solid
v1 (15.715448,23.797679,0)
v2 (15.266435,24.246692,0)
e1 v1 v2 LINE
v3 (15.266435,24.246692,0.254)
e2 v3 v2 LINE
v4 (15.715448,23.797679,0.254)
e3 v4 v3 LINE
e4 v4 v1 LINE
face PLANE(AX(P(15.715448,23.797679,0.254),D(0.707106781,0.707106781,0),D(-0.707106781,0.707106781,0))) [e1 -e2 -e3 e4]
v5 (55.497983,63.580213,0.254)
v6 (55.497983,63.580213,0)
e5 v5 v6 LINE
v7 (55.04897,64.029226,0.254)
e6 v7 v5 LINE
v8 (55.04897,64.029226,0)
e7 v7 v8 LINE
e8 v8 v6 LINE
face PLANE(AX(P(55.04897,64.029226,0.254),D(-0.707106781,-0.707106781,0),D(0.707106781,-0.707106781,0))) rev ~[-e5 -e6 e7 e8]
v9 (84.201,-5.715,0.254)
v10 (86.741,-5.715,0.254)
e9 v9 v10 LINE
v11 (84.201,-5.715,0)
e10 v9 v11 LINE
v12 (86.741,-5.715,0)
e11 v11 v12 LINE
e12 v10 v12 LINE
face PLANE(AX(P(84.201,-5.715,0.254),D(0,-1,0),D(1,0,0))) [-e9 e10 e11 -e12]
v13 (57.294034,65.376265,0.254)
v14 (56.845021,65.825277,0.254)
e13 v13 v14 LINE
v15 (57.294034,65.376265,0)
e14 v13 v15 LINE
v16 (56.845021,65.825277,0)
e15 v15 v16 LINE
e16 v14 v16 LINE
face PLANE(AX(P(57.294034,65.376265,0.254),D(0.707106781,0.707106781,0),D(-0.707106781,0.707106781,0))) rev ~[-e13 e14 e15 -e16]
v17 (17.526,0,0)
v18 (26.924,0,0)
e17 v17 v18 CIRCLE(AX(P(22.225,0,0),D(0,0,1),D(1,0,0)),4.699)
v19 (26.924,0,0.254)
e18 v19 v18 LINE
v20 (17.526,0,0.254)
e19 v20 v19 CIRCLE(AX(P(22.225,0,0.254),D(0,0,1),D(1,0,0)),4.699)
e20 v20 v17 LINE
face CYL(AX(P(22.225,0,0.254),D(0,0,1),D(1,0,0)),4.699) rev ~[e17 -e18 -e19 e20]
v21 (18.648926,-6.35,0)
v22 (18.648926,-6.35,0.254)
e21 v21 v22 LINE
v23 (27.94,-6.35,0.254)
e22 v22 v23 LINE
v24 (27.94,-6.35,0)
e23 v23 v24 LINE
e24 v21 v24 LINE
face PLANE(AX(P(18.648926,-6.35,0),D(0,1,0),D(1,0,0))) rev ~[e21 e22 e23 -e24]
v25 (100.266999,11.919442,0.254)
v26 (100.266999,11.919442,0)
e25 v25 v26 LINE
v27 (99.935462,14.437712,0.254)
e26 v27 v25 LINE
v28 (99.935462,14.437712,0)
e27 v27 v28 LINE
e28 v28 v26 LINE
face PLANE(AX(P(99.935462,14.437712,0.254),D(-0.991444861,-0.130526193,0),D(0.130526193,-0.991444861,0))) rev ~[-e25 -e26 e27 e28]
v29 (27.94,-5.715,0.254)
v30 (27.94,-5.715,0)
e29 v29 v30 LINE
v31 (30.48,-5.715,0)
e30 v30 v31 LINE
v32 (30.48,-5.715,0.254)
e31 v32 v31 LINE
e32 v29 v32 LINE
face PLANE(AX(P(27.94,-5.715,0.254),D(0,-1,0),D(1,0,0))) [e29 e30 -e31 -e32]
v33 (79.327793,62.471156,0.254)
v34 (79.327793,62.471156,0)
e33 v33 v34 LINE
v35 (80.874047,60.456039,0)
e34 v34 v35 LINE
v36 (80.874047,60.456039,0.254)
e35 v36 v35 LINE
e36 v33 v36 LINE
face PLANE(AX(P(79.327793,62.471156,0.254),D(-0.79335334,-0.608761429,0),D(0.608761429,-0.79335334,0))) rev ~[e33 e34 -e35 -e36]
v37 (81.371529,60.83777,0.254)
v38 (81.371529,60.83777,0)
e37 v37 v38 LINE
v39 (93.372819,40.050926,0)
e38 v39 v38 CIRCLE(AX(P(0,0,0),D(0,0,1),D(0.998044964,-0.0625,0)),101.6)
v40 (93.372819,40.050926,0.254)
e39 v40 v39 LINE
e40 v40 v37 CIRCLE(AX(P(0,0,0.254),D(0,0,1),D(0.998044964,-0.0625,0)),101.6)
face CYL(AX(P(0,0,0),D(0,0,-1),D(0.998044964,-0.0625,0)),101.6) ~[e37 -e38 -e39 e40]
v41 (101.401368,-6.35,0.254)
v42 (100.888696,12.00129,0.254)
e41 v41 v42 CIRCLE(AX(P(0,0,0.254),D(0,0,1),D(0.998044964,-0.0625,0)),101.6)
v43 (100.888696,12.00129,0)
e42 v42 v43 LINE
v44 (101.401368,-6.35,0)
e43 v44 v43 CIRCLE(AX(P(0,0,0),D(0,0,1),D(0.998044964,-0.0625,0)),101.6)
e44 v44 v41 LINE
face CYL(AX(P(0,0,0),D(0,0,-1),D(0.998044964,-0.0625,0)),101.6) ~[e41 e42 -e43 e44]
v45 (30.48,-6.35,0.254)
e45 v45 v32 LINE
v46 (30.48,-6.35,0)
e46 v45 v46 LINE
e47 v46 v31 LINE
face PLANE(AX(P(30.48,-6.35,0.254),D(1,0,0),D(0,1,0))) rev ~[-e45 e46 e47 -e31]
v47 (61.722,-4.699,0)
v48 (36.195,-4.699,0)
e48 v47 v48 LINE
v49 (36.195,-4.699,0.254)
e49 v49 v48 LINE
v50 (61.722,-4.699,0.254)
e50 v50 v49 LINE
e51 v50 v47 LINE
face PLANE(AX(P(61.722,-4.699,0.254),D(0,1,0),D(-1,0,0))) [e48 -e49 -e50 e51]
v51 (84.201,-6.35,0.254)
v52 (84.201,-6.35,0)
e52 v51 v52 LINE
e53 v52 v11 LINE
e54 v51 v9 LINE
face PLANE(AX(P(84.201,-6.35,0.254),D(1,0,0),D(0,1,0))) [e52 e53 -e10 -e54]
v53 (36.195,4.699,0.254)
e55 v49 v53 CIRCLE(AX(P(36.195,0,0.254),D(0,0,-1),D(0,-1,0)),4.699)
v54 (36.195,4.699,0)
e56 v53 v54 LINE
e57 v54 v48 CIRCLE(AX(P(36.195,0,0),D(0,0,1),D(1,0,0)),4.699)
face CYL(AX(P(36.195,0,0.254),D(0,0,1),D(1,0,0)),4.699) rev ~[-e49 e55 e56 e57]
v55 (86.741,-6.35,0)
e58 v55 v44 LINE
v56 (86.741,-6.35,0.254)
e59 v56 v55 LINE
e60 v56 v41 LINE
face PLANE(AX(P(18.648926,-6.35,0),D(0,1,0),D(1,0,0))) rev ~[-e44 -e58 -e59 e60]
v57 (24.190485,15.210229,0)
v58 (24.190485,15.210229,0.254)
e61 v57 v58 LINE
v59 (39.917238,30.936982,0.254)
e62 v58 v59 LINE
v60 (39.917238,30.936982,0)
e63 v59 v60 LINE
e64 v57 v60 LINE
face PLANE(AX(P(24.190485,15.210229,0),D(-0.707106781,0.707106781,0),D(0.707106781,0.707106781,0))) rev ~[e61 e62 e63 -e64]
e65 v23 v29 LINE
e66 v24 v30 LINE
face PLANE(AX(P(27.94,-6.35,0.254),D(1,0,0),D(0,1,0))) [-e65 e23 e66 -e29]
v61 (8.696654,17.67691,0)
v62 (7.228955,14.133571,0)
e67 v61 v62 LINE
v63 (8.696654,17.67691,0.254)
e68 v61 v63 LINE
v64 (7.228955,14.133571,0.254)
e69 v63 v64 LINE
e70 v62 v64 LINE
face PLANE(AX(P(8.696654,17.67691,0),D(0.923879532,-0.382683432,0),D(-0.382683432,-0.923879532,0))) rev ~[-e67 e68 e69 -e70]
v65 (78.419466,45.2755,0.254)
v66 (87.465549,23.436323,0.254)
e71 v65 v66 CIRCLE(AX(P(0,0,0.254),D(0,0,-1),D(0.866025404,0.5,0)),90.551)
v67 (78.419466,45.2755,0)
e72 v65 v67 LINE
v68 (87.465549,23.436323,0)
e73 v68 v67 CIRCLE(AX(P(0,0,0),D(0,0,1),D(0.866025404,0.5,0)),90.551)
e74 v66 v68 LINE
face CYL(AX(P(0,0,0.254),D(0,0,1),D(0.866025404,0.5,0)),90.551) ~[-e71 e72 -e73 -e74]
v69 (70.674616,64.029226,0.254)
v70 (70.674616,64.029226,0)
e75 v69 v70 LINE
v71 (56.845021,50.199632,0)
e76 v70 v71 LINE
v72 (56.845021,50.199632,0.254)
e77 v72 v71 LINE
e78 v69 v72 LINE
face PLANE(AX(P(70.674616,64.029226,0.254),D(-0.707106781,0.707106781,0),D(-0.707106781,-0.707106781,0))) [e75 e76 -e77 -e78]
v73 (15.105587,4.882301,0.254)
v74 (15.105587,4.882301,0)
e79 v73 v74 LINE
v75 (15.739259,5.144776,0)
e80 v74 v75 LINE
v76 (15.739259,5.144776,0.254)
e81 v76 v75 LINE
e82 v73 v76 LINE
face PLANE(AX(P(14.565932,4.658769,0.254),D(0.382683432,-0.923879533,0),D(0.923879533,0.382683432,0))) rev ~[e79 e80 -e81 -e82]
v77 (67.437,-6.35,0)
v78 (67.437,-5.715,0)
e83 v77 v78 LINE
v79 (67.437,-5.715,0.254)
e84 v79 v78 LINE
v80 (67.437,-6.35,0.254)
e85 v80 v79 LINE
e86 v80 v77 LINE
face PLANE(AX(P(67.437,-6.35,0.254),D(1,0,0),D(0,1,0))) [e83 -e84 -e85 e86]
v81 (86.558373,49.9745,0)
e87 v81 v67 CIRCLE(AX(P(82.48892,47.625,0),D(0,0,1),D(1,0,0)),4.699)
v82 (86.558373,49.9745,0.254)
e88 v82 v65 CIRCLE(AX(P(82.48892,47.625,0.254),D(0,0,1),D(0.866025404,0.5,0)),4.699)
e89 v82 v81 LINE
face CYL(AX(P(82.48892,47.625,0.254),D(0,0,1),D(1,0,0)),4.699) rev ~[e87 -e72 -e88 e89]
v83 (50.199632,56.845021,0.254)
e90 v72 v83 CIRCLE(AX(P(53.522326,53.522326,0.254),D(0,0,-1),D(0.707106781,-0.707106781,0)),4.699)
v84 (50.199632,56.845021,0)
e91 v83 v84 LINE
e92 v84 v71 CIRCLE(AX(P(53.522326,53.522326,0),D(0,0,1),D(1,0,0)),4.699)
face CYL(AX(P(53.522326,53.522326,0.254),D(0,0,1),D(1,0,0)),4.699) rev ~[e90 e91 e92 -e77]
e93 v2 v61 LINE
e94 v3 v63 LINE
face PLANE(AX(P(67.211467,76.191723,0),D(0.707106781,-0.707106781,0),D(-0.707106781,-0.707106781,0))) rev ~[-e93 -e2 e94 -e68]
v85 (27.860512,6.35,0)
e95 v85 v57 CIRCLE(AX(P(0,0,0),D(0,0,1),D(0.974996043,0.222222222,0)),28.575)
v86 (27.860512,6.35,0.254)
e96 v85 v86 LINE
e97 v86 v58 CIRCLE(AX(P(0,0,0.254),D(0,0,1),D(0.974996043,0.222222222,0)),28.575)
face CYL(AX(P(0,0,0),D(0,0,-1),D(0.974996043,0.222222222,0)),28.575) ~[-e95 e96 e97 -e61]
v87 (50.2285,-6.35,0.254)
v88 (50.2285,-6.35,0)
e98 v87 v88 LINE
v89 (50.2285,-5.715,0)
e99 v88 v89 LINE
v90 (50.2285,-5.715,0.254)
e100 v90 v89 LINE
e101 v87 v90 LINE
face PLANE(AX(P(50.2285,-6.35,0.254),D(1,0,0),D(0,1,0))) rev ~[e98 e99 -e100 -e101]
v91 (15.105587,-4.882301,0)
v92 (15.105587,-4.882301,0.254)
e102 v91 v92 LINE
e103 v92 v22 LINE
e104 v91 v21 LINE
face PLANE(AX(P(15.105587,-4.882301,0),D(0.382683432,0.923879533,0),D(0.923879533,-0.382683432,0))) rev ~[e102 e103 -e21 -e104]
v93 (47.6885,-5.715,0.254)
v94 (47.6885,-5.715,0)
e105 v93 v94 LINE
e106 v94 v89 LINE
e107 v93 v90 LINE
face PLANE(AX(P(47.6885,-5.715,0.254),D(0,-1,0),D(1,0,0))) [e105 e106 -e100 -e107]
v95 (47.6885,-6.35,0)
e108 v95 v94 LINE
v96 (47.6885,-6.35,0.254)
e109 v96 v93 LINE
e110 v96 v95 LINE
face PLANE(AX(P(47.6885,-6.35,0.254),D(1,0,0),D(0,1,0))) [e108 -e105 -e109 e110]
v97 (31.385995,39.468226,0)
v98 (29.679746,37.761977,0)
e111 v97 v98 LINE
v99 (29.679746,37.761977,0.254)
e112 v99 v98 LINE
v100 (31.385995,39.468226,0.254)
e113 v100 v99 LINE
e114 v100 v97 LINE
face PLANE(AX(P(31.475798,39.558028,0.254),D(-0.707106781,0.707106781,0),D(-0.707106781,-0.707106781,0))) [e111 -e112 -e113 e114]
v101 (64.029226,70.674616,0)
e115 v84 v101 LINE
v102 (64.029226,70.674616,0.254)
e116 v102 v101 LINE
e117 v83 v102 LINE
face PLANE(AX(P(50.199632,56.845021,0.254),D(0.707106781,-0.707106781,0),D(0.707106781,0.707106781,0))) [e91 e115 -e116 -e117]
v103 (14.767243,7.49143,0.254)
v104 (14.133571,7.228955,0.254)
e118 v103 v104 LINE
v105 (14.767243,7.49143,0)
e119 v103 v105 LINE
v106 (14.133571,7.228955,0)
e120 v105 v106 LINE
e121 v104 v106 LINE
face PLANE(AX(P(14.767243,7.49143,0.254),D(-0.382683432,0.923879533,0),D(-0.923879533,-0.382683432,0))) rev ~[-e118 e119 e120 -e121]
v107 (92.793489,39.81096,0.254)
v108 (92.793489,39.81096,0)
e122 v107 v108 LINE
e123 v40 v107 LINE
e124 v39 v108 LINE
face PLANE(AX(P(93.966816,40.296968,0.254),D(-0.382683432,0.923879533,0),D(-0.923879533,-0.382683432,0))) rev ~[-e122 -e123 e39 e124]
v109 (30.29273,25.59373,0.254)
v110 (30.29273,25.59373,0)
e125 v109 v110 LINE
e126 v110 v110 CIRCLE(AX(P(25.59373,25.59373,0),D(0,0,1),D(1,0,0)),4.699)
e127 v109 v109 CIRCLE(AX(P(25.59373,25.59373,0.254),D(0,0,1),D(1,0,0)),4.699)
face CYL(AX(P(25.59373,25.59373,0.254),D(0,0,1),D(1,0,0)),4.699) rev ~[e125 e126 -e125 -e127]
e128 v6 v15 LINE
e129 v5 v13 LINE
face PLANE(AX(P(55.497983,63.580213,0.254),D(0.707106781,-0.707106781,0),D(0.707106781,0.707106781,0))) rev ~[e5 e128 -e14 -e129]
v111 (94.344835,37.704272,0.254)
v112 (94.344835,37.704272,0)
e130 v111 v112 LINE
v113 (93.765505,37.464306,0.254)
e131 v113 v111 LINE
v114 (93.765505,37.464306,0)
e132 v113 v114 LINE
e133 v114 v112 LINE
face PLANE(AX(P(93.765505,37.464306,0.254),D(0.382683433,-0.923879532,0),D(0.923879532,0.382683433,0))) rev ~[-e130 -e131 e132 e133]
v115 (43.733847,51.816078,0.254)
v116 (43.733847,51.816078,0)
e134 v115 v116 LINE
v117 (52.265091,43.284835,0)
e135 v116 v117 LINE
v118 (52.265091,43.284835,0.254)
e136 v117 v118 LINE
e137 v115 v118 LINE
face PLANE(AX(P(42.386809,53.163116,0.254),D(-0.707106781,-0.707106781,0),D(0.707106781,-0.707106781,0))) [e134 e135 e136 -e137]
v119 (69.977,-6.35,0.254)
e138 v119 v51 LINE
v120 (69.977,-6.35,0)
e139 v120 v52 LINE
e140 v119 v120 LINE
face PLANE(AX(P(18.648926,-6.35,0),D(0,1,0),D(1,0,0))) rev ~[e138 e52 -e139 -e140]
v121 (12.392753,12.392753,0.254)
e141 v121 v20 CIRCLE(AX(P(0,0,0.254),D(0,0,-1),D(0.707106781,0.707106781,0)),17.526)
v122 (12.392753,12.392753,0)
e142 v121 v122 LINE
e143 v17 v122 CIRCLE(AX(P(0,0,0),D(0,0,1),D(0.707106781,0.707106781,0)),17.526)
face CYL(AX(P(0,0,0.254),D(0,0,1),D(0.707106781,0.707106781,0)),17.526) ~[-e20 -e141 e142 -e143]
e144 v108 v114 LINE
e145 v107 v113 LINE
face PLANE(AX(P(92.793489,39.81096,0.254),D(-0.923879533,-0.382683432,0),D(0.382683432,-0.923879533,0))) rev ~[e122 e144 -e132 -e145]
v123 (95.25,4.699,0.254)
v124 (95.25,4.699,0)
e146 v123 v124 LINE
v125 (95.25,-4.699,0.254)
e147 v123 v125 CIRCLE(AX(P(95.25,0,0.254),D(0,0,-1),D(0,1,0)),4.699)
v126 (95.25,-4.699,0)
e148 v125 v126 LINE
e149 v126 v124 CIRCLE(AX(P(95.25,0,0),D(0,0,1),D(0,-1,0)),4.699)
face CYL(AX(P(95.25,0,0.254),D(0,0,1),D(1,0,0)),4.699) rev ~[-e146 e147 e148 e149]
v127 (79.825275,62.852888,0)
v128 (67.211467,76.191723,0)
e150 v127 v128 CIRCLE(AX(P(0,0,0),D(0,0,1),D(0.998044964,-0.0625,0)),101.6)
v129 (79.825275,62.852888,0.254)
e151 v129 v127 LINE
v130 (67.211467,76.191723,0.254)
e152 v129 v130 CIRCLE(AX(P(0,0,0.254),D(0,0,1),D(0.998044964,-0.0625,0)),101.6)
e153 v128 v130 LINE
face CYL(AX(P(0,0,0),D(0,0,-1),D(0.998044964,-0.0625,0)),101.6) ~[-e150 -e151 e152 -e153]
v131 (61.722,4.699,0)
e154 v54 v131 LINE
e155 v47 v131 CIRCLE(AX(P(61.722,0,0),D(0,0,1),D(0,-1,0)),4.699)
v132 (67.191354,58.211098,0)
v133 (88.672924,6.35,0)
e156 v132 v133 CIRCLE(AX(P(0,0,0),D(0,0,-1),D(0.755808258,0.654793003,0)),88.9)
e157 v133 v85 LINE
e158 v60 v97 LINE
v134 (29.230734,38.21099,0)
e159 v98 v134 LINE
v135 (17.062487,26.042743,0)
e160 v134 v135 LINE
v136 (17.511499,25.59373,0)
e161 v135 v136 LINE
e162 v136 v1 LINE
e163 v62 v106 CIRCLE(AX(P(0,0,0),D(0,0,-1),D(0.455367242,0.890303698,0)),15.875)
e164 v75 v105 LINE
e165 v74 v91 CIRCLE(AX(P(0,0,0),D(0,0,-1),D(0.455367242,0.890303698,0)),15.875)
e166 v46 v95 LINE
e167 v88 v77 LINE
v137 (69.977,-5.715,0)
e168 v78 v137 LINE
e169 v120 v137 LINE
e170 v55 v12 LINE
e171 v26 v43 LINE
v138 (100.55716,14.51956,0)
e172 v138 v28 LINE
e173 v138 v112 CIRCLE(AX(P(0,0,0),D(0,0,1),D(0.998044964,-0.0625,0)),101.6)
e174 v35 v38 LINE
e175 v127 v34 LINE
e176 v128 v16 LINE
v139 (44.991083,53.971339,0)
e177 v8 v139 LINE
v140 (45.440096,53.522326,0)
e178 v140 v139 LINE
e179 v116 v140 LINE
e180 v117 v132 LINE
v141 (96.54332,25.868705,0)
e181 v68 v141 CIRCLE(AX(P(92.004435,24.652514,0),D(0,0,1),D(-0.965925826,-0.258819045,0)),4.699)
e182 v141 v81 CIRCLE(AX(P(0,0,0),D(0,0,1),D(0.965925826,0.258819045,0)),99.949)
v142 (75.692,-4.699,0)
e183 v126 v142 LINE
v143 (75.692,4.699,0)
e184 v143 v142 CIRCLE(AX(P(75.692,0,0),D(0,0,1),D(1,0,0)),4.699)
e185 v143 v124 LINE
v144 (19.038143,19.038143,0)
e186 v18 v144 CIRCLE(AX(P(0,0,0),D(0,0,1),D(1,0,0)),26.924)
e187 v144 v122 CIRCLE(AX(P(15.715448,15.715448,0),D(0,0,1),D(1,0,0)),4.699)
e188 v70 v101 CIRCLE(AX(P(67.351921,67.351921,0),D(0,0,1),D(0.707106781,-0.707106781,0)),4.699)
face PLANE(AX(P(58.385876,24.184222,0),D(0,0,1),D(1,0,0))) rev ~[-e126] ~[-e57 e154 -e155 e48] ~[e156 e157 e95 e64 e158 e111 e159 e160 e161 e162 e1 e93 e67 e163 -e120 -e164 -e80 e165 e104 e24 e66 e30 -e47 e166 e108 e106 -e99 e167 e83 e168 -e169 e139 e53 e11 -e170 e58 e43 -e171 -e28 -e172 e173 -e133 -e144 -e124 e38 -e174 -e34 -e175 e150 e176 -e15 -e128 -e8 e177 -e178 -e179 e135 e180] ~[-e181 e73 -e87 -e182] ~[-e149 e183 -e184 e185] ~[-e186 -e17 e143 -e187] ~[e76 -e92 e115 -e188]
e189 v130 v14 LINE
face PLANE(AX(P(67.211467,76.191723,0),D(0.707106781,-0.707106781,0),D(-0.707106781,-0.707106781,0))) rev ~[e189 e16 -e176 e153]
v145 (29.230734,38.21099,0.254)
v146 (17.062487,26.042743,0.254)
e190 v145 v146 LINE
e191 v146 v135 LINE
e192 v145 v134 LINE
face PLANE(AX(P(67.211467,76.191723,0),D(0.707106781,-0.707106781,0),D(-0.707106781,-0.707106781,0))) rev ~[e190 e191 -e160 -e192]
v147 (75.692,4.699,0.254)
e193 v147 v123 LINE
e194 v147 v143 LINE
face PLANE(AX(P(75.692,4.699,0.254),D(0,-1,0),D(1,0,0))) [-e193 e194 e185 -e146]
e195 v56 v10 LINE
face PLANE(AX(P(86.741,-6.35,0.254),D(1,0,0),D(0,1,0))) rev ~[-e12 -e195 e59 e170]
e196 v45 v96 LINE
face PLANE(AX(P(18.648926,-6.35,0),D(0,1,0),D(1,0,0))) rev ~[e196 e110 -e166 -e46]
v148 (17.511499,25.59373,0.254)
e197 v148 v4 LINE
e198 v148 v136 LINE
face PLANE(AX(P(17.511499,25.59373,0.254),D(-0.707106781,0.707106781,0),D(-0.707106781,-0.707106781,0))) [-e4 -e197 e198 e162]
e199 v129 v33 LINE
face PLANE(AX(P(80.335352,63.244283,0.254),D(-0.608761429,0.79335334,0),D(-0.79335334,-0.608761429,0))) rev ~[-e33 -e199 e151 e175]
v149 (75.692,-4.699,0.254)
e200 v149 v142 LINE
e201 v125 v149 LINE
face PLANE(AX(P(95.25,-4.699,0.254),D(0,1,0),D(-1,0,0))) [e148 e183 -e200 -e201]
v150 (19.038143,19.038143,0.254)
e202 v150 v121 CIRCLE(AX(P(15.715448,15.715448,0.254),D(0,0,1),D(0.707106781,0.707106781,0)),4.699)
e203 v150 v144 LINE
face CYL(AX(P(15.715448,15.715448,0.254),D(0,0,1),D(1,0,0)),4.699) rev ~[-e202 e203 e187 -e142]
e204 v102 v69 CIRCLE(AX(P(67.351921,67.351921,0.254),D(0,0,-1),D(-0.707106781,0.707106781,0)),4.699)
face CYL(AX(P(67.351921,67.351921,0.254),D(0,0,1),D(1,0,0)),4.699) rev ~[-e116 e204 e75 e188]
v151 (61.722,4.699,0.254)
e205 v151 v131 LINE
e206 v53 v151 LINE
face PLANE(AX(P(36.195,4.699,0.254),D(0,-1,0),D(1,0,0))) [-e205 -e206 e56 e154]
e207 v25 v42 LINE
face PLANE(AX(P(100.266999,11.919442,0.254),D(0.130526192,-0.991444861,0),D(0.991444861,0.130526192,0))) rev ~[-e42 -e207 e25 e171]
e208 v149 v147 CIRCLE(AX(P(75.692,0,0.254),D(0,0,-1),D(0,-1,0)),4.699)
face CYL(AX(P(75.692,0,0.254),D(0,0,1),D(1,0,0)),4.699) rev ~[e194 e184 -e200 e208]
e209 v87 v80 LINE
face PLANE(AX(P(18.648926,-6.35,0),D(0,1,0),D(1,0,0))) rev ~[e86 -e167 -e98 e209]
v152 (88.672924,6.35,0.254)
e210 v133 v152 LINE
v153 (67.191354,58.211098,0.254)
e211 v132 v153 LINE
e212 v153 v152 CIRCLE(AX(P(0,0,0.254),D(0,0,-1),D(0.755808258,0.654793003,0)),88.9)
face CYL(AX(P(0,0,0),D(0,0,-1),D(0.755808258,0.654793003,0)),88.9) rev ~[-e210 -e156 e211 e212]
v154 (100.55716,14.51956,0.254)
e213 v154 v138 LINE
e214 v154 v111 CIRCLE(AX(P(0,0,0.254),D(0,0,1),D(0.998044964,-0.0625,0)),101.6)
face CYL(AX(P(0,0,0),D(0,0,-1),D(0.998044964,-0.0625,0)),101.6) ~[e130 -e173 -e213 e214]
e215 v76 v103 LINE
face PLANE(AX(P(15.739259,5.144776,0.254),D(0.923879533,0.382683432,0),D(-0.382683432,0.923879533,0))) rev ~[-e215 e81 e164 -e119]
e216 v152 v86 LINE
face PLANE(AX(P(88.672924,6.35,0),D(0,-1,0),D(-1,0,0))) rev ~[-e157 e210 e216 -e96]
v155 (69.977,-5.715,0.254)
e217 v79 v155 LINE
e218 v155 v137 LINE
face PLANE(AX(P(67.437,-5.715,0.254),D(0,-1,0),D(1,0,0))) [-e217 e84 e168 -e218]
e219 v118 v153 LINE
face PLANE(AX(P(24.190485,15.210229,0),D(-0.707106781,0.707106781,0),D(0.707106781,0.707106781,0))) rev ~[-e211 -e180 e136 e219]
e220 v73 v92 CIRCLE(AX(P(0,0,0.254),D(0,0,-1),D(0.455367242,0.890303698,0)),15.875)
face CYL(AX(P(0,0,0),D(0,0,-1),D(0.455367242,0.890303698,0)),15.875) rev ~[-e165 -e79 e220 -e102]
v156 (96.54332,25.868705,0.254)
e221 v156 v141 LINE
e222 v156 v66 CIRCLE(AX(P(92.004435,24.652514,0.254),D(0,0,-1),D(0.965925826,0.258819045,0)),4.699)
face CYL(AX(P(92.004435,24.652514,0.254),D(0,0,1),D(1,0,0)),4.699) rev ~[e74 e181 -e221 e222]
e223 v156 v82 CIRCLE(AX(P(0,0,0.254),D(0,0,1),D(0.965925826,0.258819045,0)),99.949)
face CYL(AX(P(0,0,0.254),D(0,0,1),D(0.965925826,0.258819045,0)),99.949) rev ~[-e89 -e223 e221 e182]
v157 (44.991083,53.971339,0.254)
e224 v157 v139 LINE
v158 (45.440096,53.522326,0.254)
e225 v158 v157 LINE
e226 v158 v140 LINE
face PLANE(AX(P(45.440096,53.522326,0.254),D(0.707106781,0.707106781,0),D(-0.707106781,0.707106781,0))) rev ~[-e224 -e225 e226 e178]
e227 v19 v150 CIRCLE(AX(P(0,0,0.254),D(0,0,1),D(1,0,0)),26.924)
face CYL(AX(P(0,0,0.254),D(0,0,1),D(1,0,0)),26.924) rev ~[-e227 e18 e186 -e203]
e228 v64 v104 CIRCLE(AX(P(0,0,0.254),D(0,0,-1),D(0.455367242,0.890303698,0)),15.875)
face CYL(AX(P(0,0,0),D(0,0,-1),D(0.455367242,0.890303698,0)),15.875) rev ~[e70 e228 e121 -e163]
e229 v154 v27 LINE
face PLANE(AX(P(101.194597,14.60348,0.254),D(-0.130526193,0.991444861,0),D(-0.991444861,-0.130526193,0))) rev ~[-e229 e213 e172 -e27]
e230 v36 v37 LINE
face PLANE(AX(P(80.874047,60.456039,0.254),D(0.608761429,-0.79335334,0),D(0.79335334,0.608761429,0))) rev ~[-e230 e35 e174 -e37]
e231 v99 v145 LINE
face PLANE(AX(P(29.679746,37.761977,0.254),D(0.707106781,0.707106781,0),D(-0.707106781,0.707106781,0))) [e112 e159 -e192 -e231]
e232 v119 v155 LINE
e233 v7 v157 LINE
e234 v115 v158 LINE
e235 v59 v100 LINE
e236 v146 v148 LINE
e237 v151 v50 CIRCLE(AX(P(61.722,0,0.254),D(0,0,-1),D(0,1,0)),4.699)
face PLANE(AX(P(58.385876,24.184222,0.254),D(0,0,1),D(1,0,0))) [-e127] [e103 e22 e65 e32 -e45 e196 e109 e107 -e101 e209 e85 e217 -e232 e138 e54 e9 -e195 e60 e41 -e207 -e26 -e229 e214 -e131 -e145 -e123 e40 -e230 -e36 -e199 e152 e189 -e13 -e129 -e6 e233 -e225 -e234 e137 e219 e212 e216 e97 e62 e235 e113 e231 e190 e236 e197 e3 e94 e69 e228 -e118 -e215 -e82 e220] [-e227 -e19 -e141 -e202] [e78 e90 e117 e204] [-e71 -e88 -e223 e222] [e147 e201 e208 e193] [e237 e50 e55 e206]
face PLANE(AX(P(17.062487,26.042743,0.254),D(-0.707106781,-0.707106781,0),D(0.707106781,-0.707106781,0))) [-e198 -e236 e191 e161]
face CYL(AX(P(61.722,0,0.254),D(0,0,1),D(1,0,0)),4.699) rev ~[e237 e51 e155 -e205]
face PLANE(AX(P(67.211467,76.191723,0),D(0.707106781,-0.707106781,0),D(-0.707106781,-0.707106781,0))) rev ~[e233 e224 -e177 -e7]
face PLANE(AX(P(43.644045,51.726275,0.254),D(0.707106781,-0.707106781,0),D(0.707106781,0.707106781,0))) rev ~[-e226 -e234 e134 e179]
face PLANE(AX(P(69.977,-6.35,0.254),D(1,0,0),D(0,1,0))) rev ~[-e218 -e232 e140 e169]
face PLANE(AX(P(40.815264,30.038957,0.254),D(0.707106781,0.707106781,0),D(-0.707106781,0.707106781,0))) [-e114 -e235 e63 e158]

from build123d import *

# Parameters (mm, degrees)
BOSS_EXTRUDE1_DEPTH = 0.254
SKETCH2_R           = 4.699
CUT_EXTRUDE1_DEPTH  = 1.254
SKETCH3_W           = 2.54
SKETCH3_H           = 0.635
CUT_EXTRUDE2_DEPTH  = 1.254
CUT_EXTRUDE4_DEPTH  = 1.254
CUT_EXTRUDE5_DEPTH  = 1.254


with BuildPart() as part:
    # Sketch1 → Boss-Extrude1 (new body)
    with BuildSketch(Plane.XY):
        with BuildLine():
            Line((67.21146711, 76.191723231), (8.696654013, 17.676910134))
            Line((8.696654013, 17.676910134), (7.228954972, 14.133571205))
            ThreePointArc((7.228954972, 14.133571205), (14.666587579, 6.075099489), (15.105587123, -4.88230096))
            Line((15.105587123, -4.88230096), (18.648926052, -6.35))
            Line((18.648926052, -6.35), (101.401368334, -6.35))
            ThreePointArc((101.401368334, -6.35), (93.866160503, 38.880636728), (67.21146711, 76.191723231))
        make_face()
        with BuildLine():
            Line((88.672924278, 6.35), (27.86051193, 6.35))
            ThreePointArc((27.86051193, 6.35), (26.399857642, 10.93517908), (24.190484974, 15.210228852))
            Line((24.190484974, 15.210228852), (67.191354125, 58.211098004))
            ThreePointArc((67.191354125, 58.211098004), (82.13289044, 34.020557137), (88.672924278, 6.35))
        make_face(mode=Mode.SUBTRACT)
    extrude(amount=BOSS_EXTRUDE1_DEPTH)

    # Sketch2 → Cut-Extrude1 (cut, through all)
    with BuildSketch(Plane.XY.offset(0.254)):
        with Locations((22.225, 0)):
            Circle(SKETCH2_R)
        with Locations((36.195, 0)):
            Circle(SKETCH2_R)
        with Locations((61.722, 0)):
            Circle(SKETCH2_R)
        with Locations((75.692, 0)):
            Circle(SKETCH2_R)
        with Locations((95.25, 0)):
            Circle(SKETCH2_R)
        with Locations((15.715448212, 15.715448212)):
            Circle(SKETCH2_R)
        with Locations((25.593729945, 25.593729945)):
            Circle(SKETCH2_R)
        with Locations((43.644044748, 43.644044748)):
            Circle(SKETCH2_R)
        with Locations((53.522326482, 53.522326482)):
            Circle(SKETCH2_R)
        with Locations((92.004434954, 24.652514046)):
            Circle(SKETCH2_R)
        with Locations((82.48891971, 47.625)):
            Circle(SKETCH2_R)
        with Locations((67.351920908, 67.351920908)):
            Circle(SKETCH2_R)
    extrude(amount=-CUT_EXTRUDE1_DEPTH, mode=Mode.SUBTRACT)

    # Sketch3 → Cut-Extrude2 (cut, through all)
    with BuildSketch(Plane.XY.offset(0.254)):
        Polygon((15.266435406, 24.246691527), (17.06248663, 26.042742751), (17.511499436, 25.593729945), (15.715448212, 23.797678721), align=None)
        Polygon((44.991083167, 53.971339288), (43.195031942, 52.175288063), (43.644044748, 51.726275257), (45.440095973, 53.522326482), align=None)
        with Locations((29.21, -6.0325)):
            Rectangle(SKETCH3_W, SKETCH3_H)
        with Locations((68.707, -6.0325)):
            Rectangle(SKETCH3_W, SKETCH3_H)
        Polygon((29.230733674, 38.210989795), (31.026784898, 40.007041019), (31.475797704, 39.558028213), (29.67974648, 37.761976989), align=None)
        Polygon((56.845021246, 65.825277367), (55.048970022, 64.029226143), (55.497982828, 63.580213337), (57.294034052, 65.376264561), align=None)
        with Locations((48.9585, -6.0325)):
            Rectangle(SKETCH3_W, SKETCH3_H)
        with Locations((85.471, -6.0325)):
            Rectangle(SKETCH3_W, SKETCH3_H)
        Polygon((99.935462164, 14.437711971), (100.266998693, 11.919442024), (101.526133667, 12.085210288), (101.194597138, 14.603480236), align=None)
        Polygon((93.765504959, 37.464305742), (94.938831965, 37.950313702), (93.966816047, 40.296967714), (92.793489041, 39.810959755), align=None)
        Polygon((79.327792988, 62.471156422), (80.874047017, 60.456038938), (81.88160576, 61.229165953), (80.33535173, 63.244283437), align=None)
        Polygon((13.593916116, 7.005422516), (14.565932035, 4.658768503), (15.739259041, 5.144776462), (14.767243123, 7.491430475), align=None)
    extrude(amount=-CUT_EXTRUDE2_DEPTH, mode=Mode.SUBTRACT)

    # Sketch6 → Cut-Extrude4 (cut, through all)
    with BuildSketch(Plane.XY.offset(0.254)):
        with BuildLine():
            Line((50.199631717, 56.845021246), (64.029226143, 70.674615673))
            ThreePointArc((64.029226143, 70.674615673), (70.674615673, 70.674615673), (70.674615673, 64.029226143))
            Line((70.674615673, 64.029226143), (56.845021246, 50.199631717))
            ThreePointArc((56.845021246, 50.199631717), (50.199631717, 50.199631717), (50.199631717, 56.845021246))
        make_face()
        with BuildLine():
            Line((61.722, -4.699), (36.195, -4.699))
            ThreePointArc((36.195, -4.699), (31.496, 0), (36.195, 4.699))
            Line((36.195, 4.699), (61.722, 4.699))
            ThreePointArc((61.722, 4.699), (66.421, 0), (61.722, -4.699))
        make_face()
        with BuildLine():
            Line((95.25, -4.699), (75.692, -4.699))
            ThreePointArc((75.692, -4.699), (70.993, 0), (75.692, 4.699))
            Line((75.692, 4.699), (95.25, 4.699))
            ThreePointArc((95.25, 4.699), (99.949, 0), (95.25, -4.699))
        make_face()
        with BuildLine():
            ThreePointArc((26.924, 0), (24.874532533, 10.303368733), (19.038142977, 19.038142977))
            ThreePointArc((19.038142977, 19.038142977), (12.392753447, 19.038142977), (12.392753447, 12.392753447))
            ThreePointArc((12.392753447, 12.392753447), (16.191912687, 6.706909836), (17.526, 0))
            ThreePointArc((17.526, 0), (22.225, -4.699), (26.924, 0))
        make_face()
        with BuildLine():
            ThreePointArc((96.543320412, 25.868704739), (92.340835395, 38.248826381), (86.558373083, 49.9745))
            ThreePointArc((86.558373083, 49.9745), (80.13941971, 51.694453372), (78.419466338, 45.2755))
            ThreePointArc((78.419466338, 45.2755), (83.658215548, 34.652367484), (87.465549496, 23.436323353))
            ThreePointArc((87.465549496, 23.436323353), (93.220625647, 20.113628588), (96.543320412, 25.868704739))
        make_face()
    extrude(amount=-CUT_EXTRUDE4_DEPTH, mode=Mode.SUBTRACT)

    # Sketch5 → Cut-Extrude5 (cut, through all)
    with BuildSketch(Plane.XY.offset(0.254)):
        Polygon((30.038956725, 40.81526407), (42.386808891, 53.163116237), (53.163116237, 42.386808891), (40.81526407, 30.038956725), align=None)
    extrude(amount=-CUT_EXTRUDE5_DEPTH, mode=Mode.SUBTRACT)


solid = part.part
